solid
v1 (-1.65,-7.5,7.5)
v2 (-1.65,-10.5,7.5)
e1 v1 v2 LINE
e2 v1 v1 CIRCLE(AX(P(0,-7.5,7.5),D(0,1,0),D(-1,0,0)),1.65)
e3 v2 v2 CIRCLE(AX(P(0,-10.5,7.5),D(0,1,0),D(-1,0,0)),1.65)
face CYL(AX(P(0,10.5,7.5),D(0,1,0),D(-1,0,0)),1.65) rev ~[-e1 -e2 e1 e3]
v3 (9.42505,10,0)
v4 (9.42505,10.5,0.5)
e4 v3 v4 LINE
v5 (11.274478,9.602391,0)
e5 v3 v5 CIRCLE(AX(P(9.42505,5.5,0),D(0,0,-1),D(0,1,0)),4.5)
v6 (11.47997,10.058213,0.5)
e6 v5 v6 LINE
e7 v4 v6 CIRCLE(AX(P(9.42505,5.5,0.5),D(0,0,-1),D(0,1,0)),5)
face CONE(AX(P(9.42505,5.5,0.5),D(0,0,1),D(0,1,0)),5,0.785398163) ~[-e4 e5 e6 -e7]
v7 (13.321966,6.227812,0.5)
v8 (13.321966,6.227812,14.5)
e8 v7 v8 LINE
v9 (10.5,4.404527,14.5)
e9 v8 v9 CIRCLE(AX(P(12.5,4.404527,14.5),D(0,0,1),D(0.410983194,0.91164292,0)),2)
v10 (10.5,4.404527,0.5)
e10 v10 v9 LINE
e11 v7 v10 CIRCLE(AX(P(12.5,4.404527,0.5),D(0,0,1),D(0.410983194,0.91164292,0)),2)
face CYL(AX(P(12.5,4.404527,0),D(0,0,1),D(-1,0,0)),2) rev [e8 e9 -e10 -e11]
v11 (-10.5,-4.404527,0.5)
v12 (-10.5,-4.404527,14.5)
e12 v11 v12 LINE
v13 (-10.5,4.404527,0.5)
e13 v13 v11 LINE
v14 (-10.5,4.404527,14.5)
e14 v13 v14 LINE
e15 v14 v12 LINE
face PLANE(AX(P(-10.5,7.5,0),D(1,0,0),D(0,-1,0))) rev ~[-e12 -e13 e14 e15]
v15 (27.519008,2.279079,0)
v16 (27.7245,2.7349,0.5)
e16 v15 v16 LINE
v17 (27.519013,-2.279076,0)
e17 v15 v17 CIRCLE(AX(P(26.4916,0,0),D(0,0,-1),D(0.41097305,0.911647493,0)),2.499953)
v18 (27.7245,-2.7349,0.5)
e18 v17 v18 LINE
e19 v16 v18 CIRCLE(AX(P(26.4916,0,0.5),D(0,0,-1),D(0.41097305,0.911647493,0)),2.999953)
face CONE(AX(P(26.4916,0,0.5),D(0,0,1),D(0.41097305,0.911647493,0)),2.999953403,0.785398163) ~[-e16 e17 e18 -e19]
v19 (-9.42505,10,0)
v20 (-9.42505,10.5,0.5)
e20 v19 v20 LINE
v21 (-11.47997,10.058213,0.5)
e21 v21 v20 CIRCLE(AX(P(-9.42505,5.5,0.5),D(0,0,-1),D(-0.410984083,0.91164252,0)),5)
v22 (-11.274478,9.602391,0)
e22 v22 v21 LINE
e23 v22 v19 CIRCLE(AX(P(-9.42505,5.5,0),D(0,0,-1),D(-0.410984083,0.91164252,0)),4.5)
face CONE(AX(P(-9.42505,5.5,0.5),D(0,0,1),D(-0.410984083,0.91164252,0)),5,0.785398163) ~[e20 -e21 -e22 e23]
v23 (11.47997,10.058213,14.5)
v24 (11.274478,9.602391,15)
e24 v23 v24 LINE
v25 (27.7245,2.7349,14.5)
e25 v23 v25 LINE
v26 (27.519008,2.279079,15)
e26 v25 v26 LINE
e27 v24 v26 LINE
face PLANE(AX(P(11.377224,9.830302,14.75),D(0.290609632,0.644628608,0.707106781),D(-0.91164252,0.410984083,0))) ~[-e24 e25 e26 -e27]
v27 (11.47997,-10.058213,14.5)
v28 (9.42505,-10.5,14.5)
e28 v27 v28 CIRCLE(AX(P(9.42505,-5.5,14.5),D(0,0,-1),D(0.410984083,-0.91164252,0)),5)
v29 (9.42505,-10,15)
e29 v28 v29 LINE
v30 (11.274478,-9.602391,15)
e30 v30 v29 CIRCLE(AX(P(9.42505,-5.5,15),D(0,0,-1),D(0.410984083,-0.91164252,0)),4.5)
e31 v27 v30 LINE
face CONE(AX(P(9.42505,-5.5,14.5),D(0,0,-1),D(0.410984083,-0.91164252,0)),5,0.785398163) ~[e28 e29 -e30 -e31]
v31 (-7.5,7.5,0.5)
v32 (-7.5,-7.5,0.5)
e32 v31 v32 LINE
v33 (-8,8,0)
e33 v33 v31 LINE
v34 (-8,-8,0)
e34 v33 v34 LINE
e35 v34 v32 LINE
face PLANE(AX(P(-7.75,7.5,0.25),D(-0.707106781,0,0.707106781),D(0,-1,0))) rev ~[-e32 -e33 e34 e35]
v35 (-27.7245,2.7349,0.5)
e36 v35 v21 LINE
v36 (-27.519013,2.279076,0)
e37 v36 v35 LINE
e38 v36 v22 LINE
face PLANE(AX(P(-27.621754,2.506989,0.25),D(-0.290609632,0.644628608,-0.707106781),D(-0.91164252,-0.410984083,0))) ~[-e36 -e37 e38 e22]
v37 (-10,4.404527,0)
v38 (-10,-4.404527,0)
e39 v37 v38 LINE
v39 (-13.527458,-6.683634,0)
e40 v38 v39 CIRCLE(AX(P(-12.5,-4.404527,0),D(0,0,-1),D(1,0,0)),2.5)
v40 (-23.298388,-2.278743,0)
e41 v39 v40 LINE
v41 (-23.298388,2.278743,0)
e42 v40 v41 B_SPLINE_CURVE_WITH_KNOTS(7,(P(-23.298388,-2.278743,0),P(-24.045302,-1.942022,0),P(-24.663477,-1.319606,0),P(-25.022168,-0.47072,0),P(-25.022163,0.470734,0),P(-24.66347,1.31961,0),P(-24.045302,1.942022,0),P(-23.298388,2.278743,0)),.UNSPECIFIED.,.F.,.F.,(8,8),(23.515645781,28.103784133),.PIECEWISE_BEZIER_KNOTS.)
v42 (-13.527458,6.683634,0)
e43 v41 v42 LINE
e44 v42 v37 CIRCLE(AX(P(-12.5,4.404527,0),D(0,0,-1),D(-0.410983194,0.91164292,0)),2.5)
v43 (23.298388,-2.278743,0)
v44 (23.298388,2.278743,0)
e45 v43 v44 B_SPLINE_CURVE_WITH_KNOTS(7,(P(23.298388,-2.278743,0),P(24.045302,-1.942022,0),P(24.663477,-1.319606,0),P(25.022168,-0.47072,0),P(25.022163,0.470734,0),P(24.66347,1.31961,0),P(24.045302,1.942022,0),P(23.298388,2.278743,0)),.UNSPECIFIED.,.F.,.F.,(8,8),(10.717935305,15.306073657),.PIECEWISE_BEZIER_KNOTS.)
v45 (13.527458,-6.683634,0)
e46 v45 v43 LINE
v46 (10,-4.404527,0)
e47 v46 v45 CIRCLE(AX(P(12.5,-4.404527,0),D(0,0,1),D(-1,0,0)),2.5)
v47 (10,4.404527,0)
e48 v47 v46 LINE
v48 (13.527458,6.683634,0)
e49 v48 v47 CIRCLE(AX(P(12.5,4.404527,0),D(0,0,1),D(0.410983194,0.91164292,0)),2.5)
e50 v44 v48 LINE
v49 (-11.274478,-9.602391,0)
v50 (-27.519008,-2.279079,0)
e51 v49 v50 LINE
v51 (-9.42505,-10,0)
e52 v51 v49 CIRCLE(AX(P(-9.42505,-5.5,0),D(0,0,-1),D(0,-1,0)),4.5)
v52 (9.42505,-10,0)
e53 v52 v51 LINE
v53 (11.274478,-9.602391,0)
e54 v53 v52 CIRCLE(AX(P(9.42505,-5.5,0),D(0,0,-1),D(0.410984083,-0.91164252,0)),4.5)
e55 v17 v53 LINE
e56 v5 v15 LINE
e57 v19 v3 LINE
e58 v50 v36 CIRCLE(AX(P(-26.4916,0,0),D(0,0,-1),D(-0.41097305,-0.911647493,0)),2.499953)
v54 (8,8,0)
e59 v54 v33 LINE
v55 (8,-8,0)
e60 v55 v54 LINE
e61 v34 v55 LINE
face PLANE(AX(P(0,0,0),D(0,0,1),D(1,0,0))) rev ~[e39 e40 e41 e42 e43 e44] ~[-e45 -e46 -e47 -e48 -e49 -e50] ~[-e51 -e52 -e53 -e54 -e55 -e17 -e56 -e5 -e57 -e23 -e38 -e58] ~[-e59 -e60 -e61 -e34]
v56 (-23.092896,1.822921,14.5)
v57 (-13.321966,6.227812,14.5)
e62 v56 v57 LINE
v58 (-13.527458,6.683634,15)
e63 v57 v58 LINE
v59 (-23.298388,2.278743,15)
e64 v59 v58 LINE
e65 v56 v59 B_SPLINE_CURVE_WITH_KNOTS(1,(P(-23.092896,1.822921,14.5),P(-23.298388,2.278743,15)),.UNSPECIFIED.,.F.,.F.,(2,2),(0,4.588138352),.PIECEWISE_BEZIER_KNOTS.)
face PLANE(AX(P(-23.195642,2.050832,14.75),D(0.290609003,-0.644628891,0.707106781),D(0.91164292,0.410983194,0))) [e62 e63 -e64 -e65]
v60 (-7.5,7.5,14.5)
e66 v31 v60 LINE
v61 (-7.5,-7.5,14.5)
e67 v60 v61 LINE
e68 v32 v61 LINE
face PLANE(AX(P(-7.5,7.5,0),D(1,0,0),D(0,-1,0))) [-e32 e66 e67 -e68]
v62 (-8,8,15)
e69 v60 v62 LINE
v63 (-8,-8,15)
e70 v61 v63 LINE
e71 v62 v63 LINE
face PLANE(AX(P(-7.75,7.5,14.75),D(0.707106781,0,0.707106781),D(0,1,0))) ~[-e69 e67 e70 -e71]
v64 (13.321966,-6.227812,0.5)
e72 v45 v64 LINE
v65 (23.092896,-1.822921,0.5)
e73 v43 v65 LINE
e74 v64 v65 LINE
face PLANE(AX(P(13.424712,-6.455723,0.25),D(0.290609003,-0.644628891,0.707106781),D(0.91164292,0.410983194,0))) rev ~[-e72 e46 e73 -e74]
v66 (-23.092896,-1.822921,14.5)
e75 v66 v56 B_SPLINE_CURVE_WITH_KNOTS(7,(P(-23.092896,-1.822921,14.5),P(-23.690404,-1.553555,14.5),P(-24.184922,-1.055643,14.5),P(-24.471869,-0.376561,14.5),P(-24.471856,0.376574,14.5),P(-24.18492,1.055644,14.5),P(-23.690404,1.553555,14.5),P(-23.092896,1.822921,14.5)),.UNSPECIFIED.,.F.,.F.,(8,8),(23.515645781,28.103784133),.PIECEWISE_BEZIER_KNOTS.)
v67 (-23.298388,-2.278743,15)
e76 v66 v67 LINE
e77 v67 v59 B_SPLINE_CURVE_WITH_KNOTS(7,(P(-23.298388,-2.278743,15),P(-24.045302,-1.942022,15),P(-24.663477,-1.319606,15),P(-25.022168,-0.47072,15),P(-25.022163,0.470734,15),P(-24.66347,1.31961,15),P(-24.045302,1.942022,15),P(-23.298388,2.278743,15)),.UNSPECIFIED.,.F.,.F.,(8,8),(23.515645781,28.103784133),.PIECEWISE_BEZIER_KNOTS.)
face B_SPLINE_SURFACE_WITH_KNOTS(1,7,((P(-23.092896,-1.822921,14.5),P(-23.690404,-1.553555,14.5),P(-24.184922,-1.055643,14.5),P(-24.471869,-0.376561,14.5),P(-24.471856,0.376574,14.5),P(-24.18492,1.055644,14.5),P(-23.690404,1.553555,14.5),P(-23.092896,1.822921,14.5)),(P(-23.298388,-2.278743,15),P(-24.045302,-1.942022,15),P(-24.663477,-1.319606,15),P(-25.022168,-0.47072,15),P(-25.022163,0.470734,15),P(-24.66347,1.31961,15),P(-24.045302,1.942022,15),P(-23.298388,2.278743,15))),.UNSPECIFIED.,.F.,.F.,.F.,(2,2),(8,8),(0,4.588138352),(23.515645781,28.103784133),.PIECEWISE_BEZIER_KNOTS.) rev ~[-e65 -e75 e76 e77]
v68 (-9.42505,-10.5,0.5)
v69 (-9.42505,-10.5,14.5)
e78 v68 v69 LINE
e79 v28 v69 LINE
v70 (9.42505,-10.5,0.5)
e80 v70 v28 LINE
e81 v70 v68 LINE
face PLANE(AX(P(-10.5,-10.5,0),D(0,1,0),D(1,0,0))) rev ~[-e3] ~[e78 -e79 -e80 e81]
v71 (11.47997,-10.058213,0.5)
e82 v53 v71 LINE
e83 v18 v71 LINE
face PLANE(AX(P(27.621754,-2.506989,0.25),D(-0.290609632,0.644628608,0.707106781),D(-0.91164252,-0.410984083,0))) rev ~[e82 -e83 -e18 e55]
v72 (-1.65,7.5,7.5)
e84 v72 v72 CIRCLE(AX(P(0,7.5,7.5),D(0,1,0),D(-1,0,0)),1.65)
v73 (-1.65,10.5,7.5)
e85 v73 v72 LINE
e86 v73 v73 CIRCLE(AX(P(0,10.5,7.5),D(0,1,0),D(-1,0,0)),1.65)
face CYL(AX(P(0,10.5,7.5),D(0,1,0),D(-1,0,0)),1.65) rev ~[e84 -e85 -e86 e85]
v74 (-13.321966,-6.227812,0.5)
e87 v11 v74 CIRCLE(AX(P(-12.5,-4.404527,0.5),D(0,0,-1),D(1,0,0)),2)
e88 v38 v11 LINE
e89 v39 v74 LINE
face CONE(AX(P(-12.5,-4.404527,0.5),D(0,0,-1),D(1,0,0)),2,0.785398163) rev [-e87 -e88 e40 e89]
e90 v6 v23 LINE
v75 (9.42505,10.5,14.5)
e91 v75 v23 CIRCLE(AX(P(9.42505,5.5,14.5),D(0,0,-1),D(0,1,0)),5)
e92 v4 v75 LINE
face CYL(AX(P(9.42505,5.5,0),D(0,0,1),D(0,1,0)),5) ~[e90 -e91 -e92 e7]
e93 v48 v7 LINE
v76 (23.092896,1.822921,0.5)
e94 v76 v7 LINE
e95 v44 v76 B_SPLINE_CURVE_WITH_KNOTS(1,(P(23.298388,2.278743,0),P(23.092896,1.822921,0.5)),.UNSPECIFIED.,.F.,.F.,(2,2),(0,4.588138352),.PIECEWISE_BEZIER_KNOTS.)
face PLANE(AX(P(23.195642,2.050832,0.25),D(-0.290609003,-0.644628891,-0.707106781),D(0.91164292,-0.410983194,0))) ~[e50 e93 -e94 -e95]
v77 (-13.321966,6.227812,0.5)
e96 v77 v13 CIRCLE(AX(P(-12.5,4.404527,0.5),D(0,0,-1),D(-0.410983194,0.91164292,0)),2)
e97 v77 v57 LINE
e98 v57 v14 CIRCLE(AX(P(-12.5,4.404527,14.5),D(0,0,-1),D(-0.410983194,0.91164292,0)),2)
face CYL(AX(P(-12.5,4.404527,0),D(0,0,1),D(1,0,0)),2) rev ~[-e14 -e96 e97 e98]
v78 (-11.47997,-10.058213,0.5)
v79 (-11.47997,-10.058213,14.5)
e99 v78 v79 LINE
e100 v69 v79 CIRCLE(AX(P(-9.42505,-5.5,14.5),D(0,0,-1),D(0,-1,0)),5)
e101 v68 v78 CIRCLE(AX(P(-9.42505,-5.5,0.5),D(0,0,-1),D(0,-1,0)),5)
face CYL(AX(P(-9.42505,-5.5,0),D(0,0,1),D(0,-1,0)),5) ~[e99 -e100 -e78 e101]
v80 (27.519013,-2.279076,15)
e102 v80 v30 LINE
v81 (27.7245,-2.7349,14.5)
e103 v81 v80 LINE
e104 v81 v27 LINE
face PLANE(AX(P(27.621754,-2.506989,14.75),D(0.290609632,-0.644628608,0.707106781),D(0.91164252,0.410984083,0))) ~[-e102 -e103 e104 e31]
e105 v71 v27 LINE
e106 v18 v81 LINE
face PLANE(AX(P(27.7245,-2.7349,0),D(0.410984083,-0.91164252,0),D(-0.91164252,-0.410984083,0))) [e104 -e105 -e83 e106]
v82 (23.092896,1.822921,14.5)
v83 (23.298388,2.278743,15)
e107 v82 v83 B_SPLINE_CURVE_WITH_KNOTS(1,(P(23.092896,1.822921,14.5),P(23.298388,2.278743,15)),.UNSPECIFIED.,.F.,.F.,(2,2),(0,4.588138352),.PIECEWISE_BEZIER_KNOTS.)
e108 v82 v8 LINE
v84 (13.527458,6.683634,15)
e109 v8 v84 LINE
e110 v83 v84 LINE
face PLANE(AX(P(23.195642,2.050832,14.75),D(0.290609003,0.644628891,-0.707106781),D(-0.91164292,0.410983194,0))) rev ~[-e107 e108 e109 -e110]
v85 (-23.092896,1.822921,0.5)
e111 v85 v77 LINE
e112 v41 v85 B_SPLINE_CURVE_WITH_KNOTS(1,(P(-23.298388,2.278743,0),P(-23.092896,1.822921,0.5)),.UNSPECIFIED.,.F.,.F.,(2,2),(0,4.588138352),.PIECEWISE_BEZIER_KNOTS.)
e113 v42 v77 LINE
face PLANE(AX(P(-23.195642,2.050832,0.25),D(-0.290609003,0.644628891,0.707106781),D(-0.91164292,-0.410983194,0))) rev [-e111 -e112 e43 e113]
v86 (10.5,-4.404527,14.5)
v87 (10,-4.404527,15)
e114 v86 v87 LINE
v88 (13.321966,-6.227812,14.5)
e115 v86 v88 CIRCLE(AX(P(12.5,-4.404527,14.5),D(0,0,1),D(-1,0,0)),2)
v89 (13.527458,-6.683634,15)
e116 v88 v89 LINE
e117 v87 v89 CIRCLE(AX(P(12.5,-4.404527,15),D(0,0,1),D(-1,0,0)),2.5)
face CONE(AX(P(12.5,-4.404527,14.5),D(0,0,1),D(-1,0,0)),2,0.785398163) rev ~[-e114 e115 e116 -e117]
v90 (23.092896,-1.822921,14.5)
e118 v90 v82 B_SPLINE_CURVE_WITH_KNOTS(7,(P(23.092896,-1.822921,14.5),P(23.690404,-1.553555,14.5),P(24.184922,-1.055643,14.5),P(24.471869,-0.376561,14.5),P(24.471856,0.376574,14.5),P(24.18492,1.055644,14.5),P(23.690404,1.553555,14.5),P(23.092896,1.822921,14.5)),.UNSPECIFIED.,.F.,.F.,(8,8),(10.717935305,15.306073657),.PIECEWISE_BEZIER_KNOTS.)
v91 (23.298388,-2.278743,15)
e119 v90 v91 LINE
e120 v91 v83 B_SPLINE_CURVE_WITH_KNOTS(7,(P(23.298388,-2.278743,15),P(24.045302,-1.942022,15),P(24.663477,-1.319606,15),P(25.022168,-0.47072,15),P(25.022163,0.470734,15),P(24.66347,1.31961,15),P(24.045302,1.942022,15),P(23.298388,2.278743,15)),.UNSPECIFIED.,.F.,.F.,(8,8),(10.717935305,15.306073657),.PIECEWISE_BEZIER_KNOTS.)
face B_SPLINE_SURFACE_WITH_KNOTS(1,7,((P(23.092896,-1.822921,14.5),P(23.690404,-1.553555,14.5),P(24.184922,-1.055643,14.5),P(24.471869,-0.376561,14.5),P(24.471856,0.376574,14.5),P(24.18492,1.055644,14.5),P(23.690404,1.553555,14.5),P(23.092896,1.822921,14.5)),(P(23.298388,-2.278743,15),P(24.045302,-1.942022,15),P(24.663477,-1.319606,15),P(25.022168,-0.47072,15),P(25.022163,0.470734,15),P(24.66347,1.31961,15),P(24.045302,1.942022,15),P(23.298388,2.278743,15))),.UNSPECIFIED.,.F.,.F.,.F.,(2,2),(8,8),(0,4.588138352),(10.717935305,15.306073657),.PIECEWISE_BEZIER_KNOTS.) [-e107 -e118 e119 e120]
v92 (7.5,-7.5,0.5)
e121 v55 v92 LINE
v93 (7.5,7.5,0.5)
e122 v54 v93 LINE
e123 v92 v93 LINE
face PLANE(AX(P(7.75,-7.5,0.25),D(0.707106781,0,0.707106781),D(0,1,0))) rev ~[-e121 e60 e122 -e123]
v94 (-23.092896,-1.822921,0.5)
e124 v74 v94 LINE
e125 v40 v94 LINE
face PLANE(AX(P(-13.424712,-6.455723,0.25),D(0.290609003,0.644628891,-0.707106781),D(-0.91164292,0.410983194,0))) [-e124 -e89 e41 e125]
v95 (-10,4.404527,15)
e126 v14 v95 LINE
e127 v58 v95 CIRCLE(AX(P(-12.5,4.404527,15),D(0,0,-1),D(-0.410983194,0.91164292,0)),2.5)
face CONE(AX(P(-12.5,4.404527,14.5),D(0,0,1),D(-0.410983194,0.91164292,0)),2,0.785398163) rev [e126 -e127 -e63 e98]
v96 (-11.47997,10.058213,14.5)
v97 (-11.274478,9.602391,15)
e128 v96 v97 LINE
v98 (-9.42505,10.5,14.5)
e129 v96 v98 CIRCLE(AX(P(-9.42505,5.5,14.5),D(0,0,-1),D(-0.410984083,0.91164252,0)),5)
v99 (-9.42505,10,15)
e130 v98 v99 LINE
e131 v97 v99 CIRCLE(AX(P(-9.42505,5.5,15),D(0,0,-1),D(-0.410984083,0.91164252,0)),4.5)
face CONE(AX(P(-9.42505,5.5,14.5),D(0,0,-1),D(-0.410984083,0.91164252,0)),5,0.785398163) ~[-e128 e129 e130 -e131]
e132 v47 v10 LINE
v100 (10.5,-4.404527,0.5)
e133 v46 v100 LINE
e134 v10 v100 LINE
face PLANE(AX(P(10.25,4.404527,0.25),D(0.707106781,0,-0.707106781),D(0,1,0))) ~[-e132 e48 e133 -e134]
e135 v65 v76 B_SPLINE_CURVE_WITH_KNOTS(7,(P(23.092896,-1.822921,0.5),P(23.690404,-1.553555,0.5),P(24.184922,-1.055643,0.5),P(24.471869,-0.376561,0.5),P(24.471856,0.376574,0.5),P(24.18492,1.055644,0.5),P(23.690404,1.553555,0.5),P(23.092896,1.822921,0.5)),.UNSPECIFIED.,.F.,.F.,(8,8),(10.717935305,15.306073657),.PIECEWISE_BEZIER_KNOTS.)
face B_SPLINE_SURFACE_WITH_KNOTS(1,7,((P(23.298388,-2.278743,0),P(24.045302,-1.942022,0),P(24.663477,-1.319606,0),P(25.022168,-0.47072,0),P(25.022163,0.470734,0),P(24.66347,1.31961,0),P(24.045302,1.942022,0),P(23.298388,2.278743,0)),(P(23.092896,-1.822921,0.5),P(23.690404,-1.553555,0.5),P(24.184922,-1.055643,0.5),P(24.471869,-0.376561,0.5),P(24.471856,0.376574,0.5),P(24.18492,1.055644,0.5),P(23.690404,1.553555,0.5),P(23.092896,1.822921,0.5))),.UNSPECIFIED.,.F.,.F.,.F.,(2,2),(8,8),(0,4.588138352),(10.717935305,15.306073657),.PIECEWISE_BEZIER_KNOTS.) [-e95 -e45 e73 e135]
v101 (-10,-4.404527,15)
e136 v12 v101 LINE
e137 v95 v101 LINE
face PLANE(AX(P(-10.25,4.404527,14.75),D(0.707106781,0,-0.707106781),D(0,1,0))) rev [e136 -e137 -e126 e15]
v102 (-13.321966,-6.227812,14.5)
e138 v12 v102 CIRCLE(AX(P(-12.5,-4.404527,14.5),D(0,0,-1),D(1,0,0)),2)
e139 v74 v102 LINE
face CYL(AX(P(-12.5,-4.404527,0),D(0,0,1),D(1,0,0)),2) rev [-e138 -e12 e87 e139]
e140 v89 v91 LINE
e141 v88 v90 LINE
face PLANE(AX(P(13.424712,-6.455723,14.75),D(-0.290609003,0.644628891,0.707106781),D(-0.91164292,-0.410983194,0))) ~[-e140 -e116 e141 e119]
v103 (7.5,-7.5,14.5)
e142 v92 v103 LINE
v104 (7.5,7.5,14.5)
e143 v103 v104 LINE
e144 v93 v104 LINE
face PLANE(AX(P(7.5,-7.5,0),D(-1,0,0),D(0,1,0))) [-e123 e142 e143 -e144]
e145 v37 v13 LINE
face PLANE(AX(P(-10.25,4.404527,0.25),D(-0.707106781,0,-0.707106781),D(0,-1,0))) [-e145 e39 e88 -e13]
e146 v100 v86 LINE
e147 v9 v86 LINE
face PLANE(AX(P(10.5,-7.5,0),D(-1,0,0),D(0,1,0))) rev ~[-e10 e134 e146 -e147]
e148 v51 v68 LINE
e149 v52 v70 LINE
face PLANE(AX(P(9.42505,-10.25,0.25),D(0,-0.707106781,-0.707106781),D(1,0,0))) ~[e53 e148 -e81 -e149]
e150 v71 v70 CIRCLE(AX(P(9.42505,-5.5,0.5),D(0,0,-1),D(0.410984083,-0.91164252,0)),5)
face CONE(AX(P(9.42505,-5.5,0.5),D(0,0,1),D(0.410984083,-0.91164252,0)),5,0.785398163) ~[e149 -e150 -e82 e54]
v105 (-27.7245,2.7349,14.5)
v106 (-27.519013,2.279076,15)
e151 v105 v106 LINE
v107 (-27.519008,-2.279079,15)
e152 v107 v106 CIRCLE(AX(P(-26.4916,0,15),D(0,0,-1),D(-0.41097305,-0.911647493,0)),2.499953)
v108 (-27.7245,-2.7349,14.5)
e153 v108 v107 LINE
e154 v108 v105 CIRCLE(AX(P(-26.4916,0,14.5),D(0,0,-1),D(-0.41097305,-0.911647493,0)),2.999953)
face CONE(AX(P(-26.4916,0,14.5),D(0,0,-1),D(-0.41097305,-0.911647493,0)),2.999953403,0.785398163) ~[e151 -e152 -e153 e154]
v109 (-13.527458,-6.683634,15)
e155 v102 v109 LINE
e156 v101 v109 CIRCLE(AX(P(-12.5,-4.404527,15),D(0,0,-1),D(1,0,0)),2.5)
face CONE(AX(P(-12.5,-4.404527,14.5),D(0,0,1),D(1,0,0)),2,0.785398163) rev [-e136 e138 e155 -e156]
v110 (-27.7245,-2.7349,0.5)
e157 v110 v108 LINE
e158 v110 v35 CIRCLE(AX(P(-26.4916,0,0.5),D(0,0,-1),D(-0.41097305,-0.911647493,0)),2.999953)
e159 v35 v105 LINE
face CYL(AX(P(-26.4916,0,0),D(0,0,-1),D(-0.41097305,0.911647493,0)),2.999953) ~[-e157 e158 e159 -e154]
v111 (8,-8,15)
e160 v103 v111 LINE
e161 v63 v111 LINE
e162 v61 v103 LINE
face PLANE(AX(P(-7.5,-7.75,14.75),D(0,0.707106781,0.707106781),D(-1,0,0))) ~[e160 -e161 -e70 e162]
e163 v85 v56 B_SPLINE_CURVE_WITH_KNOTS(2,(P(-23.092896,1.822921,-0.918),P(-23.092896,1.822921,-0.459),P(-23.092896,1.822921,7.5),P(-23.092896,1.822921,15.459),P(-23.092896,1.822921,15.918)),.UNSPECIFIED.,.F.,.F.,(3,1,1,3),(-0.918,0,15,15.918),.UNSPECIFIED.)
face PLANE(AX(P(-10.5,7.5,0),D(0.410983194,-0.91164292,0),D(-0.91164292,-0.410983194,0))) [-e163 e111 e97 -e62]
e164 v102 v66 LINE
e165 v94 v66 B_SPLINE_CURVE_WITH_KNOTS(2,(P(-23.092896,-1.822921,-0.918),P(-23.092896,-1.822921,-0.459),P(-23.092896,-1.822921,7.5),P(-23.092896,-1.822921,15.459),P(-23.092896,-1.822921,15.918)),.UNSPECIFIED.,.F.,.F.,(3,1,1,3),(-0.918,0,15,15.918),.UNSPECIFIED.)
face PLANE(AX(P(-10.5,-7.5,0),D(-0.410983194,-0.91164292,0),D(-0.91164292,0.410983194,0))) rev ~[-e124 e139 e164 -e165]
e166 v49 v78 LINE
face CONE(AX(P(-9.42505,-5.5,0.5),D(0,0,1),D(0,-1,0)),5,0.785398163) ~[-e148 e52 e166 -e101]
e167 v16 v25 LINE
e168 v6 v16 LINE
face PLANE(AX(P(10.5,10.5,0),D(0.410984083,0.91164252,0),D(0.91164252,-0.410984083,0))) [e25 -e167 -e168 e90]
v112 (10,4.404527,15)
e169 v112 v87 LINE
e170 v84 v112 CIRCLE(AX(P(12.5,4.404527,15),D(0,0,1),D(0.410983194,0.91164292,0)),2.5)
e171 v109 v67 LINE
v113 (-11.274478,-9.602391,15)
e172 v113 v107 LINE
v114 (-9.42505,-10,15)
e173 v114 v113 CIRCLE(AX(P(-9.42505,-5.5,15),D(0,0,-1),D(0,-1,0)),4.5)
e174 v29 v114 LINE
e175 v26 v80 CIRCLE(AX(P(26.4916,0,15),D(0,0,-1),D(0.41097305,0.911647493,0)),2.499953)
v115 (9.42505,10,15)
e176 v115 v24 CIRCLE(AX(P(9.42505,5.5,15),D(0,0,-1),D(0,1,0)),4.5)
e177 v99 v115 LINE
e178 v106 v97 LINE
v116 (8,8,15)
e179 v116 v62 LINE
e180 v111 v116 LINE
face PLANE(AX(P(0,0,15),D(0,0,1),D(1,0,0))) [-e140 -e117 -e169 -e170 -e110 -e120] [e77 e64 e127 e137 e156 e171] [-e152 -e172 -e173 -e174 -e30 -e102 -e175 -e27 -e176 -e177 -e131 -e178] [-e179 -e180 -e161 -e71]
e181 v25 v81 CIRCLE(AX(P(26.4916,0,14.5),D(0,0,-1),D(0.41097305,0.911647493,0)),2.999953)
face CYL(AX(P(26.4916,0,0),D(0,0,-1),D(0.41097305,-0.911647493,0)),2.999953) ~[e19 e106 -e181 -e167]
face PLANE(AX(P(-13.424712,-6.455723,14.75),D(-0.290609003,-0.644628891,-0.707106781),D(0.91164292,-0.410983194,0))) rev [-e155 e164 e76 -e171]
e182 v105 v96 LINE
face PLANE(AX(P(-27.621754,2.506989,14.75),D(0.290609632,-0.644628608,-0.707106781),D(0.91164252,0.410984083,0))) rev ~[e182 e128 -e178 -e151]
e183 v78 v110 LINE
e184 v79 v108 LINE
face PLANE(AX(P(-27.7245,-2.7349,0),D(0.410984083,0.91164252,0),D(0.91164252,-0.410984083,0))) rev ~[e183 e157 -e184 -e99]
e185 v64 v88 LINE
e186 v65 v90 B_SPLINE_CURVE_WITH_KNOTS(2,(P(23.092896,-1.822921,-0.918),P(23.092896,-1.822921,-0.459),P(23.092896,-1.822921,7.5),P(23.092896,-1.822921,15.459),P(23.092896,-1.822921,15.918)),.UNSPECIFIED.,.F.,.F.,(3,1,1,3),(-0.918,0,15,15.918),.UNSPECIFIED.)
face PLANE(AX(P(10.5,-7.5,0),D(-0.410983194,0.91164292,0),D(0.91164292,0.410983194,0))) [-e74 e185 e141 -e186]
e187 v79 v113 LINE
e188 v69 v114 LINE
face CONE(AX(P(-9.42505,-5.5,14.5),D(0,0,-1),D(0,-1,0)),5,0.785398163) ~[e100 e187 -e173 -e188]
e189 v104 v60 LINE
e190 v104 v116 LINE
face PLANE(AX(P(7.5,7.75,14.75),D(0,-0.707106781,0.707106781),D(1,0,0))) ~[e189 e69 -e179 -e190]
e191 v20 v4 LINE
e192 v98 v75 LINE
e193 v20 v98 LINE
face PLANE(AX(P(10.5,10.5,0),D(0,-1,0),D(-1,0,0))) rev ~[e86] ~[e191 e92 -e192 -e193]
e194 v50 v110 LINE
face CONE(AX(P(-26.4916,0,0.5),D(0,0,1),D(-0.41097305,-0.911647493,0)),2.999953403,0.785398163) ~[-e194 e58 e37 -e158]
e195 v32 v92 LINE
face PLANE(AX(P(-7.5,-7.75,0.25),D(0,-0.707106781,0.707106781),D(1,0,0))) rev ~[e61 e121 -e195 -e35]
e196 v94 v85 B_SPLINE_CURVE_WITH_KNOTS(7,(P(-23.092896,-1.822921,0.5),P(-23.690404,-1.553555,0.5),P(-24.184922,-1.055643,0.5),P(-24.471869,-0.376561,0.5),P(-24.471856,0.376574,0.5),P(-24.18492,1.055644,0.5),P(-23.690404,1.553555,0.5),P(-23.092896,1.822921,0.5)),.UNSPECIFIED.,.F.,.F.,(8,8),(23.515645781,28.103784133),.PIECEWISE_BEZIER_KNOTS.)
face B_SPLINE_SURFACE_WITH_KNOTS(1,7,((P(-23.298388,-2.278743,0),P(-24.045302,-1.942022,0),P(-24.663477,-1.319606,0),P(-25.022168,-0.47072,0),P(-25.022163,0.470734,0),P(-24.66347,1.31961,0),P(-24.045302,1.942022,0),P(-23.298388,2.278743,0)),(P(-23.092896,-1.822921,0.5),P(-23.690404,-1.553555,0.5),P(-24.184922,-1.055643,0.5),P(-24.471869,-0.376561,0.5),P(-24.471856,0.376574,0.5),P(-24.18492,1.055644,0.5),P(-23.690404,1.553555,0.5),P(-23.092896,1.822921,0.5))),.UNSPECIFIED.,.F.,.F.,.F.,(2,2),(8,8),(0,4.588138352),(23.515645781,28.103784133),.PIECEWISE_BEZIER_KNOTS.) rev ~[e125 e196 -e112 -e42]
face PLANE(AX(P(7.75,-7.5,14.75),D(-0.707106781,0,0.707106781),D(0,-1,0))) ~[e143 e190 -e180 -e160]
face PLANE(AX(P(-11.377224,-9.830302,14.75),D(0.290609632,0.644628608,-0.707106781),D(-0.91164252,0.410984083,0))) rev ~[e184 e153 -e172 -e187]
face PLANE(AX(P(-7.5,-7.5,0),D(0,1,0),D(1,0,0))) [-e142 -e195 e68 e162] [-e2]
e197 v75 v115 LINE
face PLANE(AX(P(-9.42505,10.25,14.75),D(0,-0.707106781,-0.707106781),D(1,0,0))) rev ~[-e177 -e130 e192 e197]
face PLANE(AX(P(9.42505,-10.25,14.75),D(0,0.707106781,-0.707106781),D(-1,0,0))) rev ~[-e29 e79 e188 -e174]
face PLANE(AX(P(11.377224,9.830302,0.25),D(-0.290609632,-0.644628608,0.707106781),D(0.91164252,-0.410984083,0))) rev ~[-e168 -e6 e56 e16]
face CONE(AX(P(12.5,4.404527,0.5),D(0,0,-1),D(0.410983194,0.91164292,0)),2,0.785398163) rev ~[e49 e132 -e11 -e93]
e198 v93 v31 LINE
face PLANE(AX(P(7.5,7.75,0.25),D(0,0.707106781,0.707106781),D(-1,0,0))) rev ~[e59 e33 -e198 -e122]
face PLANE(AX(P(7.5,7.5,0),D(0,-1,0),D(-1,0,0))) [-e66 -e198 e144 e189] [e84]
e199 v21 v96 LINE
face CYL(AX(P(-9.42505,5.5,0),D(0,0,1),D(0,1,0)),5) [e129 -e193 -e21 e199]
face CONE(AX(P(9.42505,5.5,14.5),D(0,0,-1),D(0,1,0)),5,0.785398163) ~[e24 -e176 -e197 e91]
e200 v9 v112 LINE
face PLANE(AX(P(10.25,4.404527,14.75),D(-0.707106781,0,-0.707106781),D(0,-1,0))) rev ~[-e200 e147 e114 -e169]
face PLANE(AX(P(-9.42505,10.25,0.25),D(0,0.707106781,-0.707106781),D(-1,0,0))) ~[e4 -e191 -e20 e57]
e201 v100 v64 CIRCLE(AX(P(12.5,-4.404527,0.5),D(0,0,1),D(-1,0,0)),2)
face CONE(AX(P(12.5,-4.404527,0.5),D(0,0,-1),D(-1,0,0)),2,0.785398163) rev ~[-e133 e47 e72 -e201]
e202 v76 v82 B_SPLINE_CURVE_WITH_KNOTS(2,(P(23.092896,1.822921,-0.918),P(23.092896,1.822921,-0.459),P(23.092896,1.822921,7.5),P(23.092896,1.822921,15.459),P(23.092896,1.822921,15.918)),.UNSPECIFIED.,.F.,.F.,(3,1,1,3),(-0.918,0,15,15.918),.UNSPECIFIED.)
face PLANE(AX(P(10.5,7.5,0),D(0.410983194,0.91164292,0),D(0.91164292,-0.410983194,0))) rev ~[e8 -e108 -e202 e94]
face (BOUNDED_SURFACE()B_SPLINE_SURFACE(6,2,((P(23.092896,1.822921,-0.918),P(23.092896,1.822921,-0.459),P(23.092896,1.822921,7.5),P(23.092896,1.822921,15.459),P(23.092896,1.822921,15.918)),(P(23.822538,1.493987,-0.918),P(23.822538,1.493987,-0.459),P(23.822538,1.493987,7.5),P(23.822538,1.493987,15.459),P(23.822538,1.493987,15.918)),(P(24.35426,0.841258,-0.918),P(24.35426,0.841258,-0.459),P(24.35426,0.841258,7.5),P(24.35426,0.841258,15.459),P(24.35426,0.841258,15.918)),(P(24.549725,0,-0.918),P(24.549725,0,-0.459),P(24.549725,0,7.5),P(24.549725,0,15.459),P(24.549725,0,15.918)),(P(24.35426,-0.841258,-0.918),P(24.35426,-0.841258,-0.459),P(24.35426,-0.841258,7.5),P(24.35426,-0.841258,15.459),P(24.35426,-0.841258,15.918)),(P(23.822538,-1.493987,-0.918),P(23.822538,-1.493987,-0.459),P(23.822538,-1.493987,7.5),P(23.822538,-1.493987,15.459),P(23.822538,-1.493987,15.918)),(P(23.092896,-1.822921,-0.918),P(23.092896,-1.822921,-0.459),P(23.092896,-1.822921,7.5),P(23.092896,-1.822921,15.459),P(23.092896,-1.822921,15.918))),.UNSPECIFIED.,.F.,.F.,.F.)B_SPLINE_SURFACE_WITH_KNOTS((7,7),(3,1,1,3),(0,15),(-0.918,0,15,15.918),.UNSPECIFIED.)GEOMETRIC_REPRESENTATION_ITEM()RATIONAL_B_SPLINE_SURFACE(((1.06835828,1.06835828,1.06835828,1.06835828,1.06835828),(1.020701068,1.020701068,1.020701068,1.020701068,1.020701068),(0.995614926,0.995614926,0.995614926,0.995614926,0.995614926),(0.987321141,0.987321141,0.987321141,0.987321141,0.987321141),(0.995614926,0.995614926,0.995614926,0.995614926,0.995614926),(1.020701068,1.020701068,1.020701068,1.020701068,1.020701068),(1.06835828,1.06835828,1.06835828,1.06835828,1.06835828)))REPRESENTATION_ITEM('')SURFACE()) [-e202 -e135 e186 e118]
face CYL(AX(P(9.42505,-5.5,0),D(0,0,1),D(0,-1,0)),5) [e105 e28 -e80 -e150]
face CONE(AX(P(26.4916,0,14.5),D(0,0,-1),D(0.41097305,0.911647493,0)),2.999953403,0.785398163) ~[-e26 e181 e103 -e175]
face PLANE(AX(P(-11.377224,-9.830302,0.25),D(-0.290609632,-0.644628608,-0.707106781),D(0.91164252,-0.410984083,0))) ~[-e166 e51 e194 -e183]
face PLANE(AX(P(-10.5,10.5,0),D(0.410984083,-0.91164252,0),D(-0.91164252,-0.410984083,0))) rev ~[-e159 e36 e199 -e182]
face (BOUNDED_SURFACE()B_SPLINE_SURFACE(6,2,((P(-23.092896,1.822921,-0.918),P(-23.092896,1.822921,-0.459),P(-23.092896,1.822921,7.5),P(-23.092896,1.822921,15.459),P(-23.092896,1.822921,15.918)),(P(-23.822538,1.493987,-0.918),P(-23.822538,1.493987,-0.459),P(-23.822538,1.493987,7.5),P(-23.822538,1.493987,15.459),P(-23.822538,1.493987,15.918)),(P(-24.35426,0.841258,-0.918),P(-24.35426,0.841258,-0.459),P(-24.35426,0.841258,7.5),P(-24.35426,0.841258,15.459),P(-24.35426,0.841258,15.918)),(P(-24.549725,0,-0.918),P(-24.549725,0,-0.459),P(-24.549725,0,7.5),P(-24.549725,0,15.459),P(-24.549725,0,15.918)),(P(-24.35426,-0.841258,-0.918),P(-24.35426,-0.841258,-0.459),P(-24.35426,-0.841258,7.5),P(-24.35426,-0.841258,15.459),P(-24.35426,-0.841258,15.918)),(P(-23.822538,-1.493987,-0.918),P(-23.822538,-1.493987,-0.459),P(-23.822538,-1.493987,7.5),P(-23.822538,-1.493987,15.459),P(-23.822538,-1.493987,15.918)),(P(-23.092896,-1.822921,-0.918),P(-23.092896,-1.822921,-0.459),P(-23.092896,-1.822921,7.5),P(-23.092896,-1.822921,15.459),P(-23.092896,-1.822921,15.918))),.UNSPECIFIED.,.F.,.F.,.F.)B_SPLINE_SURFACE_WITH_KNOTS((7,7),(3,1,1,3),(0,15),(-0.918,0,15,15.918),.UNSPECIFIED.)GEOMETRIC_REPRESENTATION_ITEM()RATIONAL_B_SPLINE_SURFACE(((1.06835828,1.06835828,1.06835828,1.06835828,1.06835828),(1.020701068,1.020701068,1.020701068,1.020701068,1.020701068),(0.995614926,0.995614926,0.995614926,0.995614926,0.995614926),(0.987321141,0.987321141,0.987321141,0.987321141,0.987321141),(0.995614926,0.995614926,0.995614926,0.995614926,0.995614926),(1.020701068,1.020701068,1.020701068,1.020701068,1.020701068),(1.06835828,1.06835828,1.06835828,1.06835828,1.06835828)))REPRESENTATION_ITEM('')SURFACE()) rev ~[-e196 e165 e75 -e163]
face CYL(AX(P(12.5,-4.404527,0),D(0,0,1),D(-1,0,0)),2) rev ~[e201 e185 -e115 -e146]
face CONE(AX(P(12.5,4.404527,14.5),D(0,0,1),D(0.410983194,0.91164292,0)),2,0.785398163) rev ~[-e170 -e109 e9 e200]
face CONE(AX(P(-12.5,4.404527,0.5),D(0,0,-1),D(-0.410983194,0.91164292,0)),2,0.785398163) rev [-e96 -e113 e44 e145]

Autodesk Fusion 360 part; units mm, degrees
sketch "Sketch1" plane through (0, 0, 0) normal (0, 0, 1) x (1, 0, 0)
  line L0 (10.5, 10.5) -> (-10.5, 10.5)
  line L1 (-10.5, 10.5) -> (-10.5, -10.5)
  line L2 (-10.5, -10.5) -> (10.5, -10.5)
  line L3 (10.5, -10.5) -> (10.5, 10.5)
  line L4 (10.5, 10.5) -> (-10.5, -10.5) construction
  line L5 (-10.5, 10.5) -> (10.5, -10.5) construction
  line L6 (7.5, 7.5) -> (-7.5, 7.5)
  line L7 (-7.5, 7.5) -> (-7.5, -7.5)
  line L8 (-7.5, -7.5) -> (7.5, -7.5)
  line L9 (7.5, -7.5) -> (7.5, 7.5)
  line L10 (7.5, 7.5) -> (-7.5, -7.5) construction
  line L11 (-7.5, 7.5) -> (7.5, -7.5) construction
  line L12 (10.5, 10.5) -> (27.7245, 2.7349)
  line L13 (27.7245, -2.7349) -> (10.5, -10.5)
  line L14 (-10.5, 10.5) -> (-27.7245, 2.7349)
  line L15 (-27.7245, -2.7349) -> (-10.5, -10.5)
  arc A0 (27.7245, -2.7349) -> (27.7245, 2.7349) centre (26.4916, 0) ccw
  arc A1 (-27.7245, 2.7349) -> (-27.7245, -2.7349) centre (-26.4916, 0) ccw
  line L16 (26.4916, 0) -> (0, 0) construction
  line L17 (0, 0) -> (-26.4916, 0) construction
  line L18 (7.5, 7.5) -> (10.5, 7.5) construction
  line L19 (7.5, -7.5) -> (10.5, -7.5) construction
  line L20 (-7.5, -7.5) -> (-10.5, -7.5) construction
  line L21 (-7.5, 7.5) -> (-10.5, 7.5) construction
  line L22 (10.5, 7.5) -> (27.1365, 0)
  line L23 (10.5, -7.5) -> (27.1365, 0)
  line L24 (-10.5, 7.5) -> (-27.1365, 0)
  line L25 (-10.5, -7.5) -> (-27.1365, 0)
  line L26 (-24.3008, 1.2784) -> (-24.3008, -1.2784)
  line L27 (24.3008, -1.2784) -> (24.3008, 1.2784)
  dimension "d1" = 15
  dimension "d2" = 3
  dimension "d3" = 3
  dimension "d4" = 3
extrude "Extrude1" add sketch "Sketch1" along normal blind 15 contours L0 L1 L2 L3 | L3 L12 L13 A0 L22 L23 | L1 L14 L15 A1 L24 L25 | L22 L23 L27 | L24 L25 L26
fillet "Fillet1" radius 5 4 edges at (-10.5, -10.5, 7.5) (10.5, -10.5, 7.5) (10.5, 10.5, 7.5) (-10.5, 10.5, 7.5)
fillet "Fillet2" radius 2 8 edges at (-10.5, 7.5, 7.5) (-10.5, -7.5, 7.5) (-24.3008, -1.2784, 7.5) (-24.3008, 1.2784, 7.5) (10.5, 7.5, 7.5) (10.5, -7.5, 7.5) (24.3008, -1.2784, 7.5) (24.3008, 1.2784, 7.5)
sketch "Sketch2" plane through (0, 10.5, 0) normal (0, 1, 0) x (-1, 0, 0)
  line L0 (9.4251, 0) -> (9.4251, 15)
  line L1 (9.4251, 15) -> (-9.4251, 15)
  line L2 (-9.4251, 15) -> (-9.4251, 0)
  line L3 (-9.4251, 0) -> (9.4251, 0)
  circle A0 centre (0, 7.5) radius 1.65
  dimension "d13" = 3.3
extrude "Extrude2" cut sketch "Sketch2" against normal blind 35 contours A0
chamfer "Chamfer1" distance 0.5 angle 45 2 faces at (2.5, -9.5, 0) (2.5, -9.5, 15)
